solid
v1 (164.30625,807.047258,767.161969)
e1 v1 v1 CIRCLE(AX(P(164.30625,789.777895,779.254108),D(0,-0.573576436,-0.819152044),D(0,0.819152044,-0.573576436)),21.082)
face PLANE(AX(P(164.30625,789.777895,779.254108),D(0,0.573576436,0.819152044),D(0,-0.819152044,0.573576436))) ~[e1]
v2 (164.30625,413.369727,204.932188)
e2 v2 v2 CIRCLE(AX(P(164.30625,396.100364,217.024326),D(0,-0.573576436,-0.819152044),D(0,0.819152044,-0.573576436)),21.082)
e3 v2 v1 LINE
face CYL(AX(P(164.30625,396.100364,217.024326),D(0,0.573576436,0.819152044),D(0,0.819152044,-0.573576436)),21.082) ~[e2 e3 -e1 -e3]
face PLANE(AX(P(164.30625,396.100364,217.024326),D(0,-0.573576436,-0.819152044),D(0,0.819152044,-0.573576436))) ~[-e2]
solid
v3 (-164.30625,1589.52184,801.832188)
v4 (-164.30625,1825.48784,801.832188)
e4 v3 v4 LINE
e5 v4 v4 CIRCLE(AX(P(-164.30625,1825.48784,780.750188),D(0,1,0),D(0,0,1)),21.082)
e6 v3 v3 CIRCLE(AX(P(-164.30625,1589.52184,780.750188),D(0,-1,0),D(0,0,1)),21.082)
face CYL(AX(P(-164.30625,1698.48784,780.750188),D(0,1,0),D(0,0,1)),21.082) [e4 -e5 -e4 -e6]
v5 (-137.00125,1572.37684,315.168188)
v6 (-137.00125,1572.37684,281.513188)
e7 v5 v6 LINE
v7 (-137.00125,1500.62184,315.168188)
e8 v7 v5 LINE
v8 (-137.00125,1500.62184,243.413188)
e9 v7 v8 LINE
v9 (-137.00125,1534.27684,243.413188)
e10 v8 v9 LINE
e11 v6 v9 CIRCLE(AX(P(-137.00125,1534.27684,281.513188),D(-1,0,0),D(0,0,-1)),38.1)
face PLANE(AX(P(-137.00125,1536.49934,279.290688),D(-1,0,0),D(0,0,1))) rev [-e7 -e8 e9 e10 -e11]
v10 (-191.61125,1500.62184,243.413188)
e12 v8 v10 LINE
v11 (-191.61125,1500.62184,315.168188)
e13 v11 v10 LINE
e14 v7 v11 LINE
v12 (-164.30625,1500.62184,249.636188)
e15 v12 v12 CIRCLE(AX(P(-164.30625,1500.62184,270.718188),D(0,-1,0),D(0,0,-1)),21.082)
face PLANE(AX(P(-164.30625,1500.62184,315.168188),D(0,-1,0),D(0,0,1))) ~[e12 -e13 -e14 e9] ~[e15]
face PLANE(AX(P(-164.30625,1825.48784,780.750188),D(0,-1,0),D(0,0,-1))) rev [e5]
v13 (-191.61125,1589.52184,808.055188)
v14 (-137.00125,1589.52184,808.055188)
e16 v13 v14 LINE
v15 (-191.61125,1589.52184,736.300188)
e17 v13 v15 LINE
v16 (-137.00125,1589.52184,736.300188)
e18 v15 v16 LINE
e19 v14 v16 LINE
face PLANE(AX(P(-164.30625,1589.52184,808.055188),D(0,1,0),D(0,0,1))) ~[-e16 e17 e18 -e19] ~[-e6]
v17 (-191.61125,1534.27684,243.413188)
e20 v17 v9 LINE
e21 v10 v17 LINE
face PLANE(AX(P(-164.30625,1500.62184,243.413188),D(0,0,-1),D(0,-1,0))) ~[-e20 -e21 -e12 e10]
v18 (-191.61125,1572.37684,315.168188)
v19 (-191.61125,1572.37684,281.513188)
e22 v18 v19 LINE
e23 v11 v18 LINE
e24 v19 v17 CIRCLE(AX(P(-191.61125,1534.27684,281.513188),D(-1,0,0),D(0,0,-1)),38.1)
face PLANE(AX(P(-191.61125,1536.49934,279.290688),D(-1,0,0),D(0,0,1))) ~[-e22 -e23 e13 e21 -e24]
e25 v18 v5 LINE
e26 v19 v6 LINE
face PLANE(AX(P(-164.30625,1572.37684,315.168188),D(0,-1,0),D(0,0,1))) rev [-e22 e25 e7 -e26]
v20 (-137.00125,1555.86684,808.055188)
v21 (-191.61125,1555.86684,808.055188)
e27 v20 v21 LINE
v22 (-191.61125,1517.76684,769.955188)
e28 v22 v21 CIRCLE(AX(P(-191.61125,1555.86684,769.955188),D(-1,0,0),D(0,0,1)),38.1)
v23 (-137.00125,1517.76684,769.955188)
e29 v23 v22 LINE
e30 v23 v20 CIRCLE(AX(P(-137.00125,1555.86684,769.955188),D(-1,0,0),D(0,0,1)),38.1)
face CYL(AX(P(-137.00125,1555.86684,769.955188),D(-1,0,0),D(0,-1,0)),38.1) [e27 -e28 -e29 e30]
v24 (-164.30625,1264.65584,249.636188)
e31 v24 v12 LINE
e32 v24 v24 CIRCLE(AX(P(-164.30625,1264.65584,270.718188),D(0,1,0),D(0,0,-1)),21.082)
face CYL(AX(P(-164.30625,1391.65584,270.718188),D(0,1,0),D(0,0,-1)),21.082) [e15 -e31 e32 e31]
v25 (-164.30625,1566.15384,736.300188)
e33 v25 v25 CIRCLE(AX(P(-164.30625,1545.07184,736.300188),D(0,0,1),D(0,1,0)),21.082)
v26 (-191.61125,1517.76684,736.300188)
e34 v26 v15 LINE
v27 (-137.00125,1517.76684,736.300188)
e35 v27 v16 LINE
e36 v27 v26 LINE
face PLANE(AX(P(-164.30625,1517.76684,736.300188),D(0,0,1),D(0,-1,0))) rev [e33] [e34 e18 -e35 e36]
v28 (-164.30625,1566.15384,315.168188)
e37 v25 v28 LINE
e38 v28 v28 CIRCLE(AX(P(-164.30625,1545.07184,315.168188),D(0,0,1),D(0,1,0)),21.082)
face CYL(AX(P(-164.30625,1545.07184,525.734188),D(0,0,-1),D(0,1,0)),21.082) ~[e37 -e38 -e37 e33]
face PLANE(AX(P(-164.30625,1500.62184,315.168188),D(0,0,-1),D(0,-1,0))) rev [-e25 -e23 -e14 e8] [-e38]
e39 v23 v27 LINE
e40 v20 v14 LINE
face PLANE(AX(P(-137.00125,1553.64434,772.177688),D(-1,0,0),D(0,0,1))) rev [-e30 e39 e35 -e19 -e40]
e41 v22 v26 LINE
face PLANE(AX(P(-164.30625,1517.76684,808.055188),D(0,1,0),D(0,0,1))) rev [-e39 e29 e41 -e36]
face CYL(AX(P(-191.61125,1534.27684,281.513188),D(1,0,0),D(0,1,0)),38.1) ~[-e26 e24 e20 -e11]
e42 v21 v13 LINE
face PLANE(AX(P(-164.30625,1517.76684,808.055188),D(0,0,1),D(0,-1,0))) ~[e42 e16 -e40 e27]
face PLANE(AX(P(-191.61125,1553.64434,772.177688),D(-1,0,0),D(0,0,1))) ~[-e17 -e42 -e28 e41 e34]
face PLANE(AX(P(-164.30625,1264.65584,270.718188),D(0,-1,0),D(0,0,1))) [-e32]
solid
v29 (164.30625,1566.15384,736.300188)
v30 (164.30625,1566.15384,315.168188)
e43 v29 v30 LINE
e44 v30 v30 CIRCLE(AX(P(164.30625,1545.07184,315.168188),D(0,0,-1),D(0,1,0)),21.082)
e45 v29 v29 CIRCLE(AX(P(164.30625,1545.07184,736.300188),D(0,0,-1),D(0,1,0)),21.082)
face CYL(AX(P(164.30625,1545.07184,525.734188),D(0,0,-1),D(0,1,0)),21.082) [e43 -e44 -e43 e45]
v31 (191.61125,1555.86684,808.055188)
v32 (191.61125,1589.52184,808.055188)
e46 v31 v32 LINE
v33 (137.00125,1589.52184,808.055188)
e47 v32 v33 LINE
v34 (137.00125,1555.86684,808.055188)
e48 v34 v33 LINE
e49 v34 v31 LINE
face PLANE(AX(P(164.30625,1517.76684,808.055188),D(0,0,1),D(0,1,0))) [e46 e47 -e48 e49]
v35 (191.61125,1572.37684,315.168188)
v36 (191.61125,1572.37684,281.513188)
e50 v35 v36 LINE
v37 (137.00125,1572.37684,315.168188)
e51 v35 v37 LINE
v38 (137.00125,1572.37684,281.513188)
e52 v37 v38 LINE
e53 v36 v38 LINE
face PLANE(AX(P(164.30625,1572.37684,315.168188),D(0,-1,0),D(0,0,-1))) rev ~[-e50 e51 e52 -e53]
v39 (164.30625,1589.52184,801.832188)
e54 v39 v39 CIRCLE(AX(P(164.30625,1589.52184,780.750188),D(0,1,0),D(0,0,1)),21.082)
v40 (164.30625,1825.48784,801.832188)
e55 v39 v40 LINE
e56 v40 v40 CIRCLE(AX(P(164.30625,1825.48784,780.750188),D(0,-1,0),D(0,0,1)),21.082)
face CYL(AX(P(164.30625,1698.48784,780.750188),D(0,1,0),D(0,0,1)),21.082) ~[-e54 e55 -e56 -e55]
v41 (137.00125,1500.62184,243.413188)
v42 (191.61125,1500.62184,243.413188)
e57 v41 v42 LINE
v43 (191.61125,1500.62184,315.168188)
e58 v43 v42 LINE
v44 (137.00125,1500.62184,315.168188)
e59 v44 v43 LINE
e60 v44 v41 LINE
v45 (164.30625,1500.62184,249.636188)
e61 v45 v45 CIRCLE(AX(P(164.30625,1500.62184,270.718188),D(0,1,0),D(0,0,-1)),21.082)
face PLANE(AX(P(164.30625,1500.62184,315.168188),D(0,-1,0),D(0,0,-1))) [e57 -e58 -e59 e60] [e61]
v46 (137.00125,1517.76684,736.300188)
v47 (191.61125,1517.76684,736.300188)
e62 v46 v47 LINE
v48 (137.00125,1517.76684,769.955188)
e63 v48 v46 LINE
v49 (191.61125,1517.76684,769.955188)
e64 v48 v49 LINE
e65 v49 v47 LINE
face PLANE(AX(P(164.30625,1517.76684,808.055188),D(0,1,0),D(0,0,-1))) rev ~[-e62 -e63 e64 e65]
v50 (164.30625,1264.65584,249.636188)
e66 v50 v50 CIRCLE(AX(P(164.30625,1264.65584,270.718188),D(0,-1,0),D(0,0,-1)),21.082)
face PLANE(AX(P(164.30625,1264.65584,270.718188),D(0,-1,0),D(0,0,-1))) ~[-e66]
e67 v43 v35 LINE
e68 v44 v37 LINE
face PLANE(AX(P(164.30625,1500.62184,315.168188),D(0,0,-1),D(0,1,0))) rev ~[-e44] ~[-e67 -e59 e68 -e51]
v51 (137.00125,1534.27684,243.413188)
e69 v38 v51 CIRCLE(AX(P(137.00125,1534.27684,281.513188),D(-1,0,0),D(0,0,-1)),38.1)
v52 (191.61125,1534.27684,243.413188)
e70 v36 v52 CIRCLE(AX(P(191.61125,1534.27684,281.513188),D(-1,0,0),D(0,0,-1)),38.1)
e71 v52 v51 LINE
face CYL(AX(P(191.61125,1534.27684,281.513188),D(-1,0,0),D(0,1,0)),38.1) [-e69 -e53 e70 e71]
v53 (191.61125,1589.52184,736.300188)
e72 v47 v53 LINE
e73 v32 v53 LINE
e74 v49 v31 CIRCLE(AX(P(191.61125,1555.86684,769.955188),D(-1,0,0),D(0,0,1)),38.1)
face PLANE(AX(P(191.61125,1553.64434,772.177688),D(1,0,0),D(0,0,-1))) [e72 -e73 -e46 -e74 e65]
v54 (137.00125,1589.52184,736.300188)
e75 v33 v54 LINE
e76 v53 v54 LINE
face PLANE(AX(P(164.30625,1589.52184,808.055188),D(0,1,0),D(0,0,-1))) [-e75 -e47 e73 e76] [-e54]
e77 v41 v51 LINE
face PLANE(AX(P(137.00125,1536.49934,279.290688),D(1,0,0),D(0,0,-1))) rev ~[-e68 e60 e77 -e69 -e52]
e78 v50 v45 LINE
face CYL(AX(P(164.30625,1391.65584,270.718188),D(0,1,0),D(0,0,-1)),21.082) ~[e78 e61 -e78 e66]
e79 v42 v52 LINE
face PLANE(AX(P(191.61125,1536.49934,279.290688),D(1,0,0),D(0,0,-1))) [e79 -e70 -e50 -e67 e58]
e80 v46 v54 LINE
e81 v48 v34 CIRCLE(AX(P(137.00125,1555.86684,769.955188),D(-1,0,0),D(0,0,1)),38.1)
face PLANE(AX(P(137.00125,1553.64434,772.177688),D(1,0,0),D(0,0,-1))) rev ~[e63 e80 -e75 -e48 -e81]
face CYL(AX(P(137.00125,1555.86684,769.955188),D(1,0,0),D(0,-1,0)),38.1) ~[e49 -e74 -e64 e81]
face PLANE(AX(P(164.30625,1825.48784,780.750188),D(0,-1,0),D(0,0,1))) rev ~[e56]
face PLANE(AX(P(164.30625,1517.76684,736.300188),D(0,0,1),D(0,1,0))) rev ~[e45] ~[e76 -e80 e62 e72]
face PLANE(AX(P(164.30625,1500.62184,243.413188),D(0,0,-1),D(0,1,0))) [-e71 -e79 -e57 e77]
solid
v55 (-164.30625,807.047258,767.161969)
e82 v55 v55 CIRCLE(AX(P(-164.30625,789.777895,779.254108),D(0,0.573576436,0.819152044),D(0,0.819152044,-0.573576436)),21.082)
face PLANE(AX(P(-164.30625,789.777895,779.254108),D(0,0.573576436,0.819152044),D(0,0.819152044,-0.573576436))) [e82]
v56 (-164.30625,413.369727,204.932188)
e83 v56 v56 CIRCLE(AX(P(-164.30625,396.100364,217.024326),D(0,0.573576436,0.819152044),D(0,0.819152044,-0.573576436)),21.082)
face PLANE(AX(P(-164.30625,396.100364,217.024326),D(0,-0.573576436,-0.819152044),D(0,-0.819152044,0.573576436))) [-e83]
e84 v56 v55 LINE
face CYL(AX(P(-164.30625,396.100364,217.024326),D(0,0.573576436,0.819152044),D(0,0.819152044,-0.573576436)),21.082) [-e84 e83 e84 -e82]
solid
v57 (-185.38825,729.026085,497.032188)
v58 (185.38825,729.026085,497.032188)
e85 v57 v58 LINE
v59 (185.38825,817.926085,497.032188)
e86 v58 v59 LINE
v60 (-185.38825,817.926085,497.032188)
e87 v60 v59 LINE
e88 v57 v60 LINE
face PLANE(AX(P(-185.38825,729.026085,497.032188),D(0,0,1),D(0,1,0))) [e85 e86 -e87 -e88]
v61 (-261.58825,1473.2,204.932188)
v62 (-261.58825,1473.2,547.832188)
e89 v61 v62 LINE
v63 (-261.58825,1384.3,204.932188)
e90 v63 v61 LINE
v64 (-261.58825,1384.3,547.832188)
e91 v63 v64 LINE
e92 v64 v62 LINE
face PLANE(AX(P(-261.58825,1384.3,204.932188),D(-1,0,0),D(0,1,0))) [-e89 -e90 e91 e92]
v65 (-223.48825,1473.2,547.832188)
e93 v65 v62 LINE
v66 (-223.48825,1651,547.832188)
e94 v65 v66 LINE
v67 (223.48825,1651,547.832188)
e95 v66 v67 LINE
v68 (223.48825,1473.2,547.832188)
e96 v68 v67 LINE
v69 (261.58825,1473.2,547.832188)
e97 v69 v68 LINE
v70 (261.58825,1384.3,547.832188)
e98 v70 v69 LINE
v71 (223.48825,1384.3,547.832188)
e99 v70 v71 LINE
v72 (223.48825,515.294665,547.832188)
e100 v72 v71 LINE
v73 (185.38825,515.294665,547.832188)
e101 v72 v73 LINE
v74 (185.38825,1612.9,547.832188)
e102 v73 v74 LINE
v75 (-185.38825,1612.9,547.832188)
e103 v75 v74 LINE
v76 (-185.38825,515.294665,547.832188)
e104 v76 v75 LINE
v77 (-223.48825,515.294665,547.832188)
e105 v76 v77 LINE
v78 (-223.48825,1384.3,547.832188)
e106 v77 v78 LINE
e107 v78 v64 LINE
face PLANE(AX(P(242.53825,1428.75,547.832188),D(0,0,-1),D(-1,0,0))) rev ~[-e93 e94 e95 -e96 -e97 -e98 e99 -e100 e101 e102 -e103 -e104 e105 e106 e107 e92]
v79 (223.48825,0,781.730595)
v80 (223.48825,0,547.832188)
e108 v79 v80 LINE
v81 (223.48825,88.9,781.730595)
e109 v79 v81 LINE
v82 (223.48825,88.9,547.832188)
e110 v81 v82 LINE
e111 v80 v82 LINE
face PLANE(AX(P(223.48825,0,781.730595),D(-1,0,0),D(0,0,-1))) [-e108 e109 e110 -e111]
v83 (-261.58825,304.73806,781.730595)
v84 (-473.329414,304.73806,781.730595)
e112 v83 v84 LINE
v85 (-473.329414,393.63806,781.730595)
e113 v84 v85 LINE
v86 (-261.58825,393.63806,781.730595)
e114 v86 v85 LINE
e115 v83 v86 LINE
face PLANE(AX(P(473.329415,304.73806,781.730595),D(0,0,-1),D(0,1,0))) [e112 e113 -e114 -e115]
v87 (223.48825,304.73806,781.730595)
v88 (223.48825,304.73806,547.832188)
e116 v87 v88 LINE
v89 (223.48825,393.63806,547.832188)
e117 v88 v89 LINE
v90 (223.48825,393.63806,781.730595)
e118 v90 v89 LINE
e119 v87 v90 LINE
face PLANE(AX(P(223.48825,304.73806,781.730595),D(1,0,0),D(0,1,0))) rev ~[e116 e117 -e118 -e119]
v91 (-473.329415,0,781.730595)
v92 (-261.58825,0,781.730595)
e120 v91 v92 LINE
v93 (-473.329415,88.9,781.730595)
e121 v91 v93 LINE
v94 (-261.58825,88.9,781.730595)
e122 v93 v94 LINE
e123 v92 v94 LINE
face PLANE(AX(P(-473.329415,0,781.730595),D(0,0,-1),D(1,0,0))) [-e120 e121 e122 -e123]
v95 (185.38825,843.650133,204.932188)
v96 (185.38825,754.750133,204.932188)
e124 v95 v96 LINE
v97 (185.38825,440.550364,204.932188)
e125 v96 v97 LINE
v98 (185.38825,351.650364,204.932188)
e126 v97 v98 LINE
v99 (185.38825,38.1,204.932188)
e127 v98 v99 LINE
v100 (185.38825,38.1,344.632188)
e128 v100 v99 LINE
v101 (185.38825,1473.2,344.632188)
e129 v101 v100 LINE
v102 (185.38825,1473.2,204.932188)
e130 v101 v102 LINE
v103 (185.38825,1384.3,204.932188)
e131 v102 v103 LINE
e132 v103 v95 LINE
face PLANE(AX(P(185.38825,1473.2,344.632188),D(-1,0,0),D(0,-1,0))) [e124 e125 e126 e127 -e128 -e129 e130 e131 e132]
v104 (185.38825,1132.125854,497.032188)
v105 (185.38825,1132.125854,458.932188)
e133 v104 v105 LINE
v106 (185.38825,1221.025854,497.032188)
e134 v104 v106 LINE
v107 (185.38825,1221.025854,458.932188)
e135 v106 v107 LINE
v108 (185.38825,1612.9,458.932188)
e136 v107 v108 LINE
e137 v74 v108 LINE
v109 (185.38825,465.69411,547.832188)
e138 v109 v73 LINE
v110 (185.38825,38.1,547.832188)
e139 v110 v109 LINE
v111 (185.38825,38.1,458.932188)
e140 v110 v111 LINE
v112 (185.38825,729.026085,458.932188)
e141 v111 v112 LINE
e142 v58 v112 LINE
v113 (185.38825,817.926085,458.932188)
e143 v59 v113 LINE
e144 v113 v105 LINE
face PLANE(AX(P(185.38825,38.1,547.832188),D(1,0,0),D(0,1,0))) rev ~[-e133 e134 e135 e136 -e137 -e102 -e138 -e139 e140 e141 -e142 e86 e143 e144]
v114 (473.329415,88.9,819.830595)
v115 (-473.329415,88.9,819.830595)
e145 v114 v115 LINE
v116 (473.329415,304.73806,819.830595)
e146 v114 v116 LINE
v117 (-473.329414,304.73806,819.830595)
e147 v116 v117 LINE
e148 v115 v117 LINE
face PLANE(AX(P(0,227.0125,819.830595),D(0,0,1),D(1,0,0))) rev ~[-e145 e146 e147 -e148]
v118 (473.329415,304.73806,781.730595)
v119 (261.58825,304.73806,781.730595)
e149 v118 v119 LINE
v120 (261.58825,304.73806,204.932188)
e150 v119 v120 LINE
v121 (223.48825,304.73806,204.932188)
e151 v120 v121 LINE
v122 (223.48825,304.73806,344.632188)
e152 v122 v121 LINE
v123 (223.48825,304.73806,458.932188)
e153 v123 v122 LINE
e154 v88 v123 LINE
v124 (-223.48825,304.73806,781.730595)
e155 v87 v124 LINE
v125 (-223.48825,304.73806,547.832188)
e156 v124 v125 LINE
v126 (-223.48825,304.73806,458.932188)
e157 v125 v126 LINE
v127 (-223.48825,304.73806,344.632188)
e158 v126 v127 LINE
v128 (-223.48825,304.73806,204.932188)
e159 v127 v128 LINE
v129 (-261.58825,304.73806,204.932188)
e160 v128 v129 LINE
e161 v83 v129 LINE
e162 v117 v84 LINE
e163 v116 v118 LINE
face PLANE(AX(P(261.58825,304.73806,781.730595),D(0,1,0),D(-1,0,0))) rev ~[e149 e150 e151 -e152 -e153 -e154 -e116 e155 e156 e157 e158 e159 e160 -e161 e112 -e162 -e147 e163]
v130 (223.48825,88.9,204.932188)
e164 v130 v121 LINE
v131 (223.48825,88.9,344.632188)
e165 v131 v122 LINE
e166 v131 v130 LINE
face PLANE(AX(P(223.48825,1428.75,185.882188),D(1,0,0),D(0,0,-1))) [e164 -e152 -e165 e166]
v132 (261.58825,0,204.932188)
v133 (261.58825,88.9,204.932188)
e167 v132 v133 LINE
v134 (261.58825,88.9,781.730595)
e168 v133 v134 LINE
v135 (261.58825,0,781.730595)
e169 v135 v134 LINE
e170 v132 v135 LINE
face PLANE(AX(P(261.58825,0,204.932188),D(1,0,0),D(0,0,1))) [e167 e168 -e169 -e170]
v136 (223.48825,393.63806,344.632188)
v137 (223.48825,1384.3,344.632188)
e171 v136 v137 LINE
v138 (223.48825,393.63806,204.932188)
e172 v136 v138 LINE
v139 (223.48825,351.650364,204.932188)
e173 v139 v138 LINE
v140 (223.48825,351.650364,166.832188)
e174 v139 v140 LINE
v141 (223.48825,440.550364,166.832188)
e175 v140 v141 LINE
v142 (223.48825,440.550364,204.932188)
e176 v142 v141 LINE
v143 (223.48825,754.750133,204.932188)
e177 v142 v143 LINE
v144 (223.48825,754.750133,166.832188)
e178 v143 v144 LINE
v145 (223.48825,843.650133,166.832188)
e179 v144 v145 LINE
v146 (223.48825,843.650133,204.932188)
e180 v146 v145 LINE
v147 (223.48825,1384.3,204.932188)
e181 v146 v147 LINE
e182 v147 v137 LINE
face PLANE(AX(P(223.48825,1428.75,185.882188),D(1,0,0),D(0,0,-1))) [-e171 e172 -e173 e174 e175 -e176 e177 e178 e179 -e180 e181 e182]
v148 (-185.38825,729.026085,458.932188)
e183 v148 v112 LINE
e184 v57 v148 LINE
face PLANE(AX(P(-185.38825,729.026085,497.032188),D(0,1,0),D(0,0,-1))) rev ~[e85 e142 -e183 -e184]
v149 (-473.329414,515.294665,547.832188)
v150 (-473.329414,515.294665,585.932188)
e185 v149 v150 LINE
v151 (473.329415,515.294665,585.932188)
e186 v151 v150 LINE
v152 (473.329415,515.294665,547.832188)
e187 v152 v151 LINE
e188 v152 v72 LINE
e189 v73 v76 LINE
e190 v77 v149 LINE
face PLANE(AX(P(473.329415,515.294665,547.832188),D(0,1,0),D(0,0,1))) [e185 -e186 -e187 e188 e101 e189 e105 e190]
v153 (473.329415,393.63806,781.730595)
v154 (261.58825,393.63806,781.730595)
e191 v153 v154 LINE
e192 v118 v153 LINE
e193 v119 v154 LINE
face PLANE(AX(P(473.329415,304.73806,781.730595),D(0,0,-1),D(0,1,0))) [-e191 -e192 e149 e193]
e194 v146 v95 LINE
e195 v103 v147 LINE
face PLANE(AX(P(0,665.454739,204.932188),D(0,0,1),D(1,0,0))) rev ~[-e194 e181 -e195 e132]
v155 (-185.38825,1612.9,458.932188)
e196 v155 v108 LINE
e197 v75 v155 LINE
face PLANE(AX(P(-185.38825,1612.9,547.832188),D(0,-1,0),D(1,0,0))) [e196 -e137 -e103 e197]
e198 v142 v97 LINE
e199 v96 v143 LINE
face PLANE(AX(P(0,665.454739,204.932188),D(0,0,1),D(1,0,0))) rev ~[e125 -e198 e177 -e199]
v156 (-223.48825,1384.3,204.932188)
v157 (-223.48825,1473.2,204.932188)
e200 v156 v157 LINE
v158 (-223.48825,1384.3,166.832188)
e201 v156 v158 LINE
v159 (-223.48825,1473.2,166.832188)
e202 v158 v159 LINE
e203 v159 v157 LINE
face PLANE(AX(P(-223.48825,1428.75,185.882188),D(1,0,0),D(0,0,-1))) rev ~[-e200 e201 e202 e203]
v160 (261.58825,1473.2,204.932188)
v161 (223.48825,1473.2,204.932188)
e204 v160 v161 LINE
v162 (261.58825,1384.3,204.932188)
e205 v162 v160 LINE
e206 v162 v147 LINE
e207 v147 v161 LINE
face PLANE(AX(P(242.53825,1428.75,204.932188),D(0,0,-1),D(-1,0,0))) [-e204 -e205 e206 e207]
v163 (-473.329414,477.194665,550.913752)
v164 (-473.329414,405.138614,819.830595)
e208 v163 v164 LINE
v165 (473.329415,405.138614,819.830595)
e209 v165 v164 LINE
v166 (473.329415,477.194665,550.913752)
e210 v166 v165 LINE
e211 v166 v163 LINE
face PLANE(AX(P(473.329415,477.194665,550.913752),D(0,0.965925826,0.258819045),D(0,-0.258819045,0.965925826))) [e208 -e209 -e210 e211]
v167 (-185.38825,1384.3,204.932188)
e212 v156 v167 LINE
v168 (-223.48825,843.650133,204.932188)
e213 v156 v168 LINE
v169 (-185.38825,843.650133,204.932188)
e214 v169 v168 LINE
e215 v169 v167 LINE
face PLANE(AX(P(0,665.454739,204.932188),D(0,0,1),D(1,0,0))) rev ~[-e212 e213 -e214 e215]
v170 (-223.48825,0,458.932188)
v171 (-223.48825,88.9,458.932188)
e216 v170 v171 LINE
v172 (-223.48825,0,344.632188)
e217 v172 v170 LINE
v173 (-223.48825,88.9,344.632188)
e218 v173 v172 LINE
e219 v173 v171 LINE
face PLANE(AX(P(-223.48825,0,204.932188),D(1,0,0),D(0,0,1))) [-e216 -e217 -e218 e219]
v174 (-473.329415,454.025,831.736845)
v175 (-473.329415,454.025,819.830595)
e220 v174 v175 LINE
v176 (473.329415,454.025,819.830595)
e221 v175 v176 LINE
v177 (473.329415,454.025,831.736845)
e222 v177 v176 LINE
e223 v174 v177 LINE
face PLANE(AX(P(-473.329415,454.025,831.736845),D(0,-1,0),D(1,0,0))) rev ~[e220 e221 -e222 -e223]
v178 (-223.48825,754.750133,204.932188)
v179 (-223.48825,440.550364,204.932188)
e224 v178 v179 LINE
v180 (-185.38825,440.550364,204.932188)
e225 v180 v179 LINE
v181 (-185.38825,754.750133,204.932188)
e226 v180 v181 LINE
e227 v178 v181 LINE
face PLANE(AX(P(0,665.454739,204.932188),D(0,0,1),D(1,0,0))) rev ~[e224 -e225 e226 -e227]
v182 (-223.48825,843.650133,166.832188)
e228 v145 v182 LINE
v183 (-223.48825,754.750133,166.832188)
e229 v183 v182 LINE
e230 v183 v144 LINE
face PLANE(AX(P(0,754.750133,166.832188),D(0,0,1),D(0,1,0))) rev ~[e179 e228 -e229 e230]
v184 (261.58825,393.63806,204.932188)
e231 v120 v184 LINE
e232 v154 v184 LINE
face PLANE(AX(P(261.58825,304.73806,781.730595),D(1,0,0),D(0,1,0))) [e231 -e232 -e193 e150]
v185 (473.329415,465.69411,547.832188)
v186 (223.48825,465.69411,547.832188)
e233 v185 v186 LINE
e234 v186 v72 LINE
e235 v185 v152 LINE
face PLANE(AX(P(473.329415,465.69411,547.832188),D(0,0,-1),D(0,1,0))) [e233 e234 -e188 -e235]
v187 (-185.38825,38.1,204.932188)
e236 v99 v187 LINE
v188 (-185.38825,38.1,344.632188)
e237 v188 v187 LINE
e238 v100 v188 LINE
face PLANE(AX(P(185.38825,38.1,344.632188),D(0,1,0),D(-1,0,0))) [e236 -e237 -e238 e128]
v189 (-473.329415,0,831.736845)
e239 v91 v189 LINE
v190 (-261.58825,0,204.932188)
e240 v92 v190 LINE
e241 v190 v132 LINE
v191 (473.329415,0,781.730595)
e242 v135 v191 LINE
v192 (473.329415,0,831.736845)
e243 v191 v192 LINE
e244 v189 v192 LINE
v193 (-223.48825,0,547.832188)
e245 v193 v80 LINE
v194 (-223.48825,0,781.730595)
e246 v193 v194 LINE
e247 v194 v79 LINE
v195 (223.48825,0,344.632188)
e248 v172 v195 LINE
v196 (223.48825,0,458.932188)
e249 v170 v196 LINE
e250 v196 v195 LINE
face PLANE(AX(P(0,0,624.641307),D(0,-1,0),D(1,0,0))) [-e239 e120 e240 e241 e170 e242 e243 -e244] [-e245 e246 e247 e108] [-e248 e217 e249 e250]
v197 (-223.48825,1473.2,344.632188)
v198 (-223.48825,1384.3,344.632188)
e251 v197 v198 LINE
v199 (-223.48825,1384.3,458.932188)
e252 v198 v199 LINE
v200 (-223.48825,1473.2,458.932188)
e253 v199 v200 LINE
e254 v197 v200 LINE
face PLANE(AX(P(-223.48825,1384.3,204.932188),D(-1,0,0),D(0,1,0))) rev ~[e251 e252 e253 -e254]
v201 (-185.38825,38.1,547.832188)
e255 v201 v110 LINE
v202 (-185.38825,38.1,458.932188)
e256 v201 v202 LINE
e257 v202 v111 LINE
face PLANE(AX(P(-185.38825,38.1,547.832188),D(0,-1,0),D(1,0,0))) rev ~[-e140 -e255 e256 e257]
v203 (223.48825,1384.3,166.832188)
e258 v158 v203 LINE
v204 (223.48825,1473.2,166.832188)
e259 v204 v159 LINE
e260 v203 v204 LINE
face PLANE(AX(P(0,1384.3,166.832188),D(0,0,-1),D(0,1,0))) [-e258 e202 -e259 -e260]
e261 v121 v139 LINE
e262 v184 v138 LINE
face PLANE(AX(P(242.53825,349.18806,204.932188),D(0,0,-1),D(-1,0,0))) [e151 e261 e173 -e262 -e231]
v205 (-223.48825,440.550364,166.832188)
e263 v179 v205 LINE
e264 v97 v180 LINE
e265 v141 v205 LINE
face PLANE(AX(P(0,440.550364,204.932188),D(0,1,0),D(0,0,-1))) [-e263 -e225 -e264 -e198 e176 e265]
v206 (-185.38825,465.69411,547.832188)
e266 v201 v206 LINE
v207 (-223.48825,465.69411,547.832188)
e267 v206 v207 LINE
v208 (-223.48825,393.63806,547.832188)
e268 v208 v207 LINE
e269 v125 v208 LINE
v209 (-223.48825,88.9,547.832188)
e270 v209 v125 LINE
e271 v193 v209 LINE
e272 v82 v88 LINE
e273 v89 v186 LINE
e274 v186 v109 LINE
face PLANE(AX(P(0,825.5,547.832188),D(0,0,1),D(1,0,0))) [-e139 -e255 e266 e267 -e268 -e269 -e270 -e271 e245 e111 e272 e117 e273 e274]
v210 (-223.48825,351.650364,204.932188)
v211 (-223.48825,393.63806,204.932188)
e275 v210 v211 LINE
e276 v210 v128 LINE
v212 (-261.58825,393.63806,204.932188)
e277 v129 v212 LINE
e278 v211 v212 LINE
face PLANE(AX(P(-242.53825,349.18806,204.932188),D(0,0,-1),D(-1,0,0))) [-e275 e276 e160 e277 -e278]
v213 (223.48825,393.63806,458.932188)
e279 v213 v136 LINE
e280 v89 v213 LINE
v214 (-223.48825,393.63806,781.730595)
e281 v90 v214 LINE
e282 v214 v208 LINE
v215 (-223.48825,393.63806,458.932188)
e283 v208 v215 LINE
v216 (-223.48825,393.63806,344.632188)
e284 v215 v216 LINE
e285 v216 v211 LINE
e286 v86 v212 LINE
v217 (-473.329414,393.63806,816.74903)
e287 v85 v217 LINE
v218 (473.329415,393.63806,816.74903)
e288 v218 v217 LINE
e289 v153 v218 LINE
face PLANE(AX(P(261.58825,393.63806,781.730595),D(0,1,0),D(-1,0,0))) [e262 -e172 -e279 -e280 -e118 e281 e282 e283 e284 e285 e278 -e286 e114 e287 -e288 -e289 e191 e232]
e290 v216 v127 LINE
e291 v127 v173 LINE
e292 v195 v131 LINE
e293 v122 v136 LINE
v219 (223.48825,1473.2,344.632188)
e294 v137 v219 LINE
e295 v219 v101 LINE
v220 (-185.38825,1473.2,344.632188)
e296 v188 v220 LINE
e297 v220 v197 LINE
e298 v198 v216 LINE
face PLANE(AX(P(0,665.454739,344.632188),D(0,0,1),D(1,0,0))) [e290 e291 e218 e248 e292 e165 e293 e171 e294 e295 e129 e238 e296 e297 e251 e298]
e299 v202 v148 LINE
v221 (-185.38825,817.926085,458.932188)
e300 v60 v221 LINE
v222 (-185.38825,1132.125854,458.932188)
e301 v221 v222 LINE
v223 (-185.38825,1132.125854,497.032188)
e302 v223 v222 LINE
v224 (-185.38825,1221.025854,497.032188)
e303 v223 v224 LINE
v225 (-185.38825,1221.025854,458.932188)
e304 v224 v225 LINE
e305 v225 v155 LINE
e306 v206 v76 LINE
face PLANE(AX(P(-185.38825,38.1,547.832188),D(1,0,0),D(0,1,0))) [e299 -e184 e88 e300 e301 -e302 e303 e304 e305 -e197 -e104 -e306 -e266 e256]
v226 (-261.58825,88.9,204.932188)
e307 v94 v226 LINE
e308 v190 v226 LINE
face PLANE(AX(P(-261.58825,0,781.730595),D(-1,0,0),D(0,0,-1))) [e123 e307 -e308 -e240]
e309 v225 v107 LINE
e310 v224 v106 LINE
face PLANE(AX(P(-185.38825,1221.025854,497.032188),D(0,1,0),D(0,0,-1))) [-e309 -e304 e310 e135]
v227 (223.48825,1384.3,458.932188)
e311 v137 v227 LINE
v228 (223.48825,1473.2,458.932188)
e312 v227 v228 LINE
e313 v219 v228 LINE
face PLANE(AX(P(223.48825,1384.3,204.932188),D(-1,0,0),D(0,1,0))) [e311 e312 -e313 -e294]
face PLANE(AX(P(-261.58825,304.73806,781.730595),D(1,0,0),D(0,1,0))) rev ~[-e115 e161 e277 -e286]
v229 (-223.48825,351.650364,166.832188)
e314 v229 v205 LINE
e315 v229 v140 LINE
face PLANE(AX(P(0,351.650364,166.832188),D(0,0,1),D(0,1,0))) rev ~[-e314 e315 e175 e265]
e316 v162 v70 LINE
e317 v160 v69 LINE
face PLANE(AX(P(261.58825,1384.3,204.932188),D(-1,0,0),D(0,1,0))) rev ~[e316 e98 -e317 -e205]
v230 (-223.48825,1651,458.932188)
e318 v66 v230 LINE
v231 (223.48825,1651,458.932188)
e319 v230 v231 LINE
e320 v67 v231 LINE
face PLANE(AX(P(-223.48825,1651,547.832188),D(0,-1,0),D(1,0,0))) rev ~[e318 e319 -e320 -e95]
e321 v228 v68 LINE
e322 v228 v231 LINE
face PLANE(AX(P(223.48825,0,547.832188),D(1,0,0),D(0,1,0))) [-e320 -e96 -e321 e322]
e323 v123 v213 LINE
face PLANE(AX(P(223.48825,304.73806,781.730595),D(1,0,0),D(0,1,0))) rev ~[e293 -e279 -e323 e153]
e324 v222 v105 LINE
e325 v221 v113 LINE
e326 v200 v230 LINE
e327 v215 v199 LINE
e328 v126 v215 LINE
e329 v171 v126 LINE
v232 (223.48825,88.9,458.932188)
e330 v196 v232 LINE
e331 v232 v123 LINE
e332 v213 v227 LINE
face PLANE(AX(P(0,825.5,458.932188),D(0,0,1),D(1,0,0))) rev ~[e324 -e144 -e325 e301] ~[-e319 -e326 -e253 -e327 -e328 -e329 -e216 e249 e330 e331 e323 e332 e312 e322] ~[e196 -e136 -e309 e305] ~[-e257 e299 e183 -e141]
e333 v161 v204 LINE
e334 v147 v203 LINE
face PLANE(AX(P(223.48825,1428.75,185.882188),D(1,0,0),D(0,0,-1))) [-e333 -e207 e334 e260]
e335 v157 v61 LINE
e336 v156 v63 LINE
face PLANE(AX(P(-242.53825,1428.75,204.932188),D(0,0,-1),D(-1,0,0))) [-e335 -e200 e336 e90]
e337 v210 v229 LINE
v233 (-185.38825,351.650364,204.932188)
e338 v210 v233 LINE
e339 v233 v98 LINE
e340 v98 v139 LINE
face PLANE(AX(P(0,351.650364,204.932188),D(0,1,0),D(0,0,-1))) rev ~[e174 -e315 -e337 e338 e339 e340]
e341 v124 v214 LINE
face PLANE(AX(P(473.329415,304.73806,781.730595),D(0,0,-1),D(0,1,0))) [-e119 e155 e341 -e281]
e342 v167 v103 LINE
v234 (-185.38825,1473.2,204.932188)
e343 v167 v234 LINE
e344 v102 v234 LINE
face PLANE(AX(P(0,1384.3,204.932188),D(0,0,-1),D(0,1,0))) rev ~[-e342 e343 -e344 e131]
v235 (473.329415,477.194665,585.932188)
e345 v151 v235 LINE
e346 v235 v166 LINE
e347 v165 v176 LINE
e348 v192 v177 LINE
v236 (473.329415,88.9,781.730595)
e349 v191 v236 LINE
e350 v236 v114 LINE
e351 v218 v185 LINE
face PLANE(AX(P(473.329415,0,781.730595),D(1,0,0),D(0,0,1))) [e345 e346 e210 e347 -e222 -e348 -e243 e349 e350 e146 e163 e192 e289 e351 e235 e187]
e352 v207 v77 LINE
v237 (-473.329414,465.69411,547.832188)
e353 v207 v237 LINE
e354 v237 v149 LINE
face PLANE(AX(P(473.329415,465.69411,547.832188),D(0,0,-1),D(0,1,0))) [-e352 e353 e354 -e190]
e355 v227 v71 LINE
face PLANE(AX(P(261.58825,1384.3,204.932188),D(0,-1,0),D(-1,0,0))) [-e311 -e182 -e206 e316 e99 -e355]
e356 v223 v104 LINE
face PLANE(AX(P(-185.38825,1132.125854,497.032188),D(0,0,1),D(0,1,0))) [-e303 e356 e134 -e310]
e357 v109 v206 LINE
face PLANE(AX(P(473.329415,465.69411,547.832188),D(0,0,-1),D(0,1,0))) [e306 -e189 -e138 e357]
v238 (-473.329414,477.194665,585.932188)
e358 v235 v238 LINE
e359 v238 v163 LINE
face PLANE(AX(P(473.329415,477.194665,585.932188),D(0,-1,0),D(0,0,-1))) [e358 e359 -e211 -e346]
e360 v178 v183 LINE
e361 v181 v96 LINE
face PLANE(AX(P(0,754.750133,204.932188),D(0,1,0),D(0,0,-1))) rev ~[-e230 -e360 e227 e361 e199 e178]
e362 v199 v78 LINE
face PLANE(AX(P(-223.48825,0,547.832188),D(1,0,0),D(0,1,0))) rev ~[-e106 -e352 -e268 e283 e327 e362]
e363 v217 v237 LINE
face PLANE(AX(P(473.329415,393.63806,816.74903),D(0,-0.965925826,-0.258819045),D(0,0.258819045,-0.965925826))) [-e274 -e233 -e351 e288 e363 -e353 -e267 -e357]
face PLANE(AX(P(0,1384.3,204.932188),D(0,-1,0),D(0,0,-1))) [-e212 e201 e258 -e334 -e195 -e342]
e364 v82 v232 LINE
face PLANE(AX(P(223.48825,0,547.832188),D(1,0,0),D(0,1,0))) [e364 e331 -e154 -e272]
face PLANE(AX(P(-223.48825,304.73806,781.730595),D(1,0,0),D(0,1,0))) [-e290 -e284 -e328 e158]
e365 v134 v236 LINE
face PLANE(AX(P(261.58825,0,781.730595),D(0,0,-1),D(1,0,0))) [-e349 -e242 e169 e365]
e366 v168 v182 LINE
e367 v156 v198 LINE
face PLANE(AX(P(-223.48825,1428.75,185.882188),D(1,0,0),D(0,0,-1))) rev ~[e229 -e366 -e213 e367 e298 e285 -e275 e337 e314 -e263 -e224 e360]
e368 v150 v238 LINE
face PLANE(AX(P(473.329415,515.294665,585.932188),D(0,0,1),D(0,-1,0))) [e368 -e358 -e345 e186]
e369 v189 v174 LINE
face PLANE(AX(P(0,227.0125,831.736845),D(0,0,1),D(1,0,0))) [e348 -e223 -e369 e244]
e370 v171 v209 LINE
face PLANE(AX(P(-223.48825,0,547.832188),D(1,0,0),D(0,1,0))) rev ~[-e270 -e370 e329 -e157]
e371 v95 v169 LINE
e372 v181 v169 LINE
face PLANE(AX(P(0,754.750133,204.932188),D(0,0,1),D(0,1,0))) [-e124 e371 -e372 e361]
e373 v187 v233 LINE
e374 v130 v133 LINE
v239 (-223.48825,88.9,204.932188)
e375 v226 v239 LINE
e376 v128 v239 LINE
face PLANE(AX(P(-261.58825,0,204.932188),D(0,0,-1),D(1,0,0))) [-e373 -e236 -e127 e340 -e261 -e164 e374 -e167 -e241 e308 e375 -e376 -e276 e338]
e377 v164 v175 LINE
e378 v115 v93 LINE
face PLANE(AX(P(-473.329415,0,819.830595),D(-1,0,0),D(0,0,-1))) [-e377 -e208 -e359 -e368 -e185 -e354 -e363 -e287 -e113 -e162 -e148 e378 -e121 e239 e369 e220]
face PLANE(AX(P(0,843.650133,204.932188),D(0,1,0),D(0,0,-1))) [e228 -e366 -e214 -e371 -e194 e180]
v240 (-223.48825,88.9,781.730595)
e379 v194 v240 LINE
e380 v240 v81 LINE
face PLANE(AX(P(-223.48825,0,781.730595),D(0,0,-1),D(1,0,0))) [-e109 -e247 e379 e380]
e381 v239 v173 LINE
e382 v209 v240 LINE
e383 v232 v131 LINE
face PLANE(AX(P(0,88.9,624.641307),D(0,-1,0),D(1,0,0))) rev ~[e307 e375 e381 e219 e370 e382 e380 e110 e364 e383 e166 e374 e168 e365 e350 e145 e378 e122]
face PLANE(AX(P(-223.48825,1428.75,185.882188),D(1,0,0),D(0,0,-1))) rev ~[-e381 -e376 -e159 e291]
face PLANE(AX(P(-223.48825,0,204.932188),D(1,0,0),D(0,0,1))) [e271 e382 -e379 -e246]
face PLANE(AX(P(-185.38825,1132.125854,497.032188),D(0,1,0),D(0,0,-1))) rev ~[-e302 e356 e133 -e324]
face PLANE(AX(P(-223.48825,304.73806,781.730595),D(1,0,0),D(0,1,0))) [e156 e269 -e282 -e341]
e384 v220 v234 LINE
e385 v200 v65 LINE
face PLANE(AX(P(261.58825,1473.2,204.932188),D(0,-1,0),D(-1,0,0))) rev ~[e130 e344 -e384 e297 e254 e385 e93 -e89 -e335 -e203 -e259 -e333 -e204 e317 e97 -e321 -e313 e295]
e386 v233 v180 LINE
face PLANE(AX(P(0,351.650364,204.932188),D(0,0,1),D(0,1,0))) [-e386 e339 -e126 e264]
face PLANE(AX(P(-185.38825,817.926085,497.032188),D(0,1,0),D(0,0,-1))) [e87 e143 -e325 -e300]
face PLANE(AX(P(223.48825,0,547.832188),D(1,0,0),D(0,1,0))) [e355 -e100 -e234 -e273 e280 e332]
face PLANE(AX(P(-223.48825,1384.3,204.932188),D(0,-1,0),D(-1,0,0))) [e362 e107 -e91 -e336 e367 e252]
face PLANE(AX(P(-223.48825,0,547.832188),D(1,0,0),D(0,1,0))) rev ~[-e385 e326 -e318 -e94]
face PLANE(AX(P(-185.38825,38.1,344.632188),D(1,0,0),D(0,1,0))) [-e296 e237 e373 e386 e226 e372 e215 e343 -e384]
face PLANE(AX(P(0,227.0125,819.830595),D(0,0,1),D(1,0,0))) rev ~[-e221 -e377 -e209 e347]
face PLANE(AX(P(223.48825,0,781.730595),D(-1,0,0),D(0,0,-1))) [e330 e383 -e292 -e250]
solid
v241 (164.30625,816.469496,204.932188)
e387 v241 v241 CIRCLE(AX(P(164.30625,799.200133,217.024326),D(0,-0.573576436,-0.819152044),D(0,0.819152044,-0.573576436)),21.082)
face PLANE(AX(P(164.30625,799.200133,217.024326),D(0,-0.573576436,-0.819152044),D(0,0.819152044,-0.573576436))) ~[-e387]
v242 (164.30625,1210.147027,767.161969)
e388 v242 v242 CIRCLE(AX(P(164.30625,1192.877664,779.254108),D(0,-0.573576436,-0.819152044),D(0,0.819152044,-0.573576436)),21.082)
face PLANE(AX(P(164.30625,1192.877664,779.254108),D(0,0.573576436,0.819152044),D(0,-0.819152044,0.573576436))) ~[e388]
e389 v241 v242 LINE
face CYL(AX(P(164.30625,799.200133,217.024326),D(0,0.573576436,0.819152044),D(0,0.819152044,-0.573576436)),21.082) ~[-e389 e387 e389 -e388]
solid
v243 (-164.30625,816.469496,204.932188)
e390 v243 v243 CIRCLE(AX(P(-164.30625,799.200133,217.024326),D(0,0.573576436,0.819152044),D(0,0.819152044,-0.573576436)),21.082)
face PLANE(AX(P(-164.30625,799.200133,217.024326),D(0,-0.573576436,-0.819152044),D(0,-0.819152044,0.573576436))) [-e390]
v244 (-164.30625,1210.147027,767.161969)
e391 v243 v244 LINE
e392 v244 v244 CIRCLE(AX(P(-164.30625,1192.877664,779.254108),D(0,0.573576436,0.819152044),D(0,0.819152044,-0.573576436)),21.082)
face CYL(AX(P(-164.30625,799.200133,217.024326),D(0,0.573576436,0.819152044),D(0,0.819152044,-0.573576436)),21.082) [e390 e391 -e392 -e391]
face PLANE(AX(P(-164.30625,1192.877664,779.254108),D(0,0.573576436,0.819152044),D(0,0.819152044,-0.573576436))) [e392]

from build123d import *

# Parameters (mm, degrees)
SKETCH1_W            = 946.658829024
SKETCH1_H            = 454.025
BOSS_EXTRUDE3_DEPTH  = 11.90625
SKETCH5_W            = 21.082
SKETCH5_H            = 254
SKETCH6_W            = 457.2
SKETCH6_H            = 21.082
SKETCH7_W            = 21.082
SKETCH7_H            = 254
SKETCH8_W            = 71.755
SKETCH8_H            = 71.755
BOSS_EXTRUDE2_DEPTH  = 27.305
FILLET1_R            = 38.1
SKETCH10_W           = 446.9765
SKETCH10_H           = 1651
SKETCH10_W_2         = 370.7765
SKETCH10_H_2         = 1574.8
BOSS_EXTRUDE4_DEPTH  = 88.9
BOSS_EXTRUDE5_DEPTH  = 139.7
BOSS_EXTRUDE6_DEPTH  = 946.658829
SKETCH13_W           = 38.1
SKETCH13_H           = 88.9
BOSS_EXTRUDE7_DEPTH  = 223.48825
BOSS_EXTRUDE8_DEPTH  = 88.9
SKETCH16_W           = 38.1
SKETCH16_H           = 88.9
BOSS_EXTRUDE9_DEPTH  = 576.798407
SKETCH17_W           = 38.1
SKETCH17_H           = 88.9
BOSS_EXTRUDE10_DEPTH = 342.9
SKETCH19_W           = 38.1
SKETCH19_H           = 88.9
BOSS_EXTRUDE11_DEPTH = 370.7765


with BuildPart() as part:
    # Sketch1 → Boss-Extrude3 (new body)
    with BuildSketch(Plane.XY.offset(831.736844651)):
        with Locations((0, 227.0125)):
            Rectangle(SKETCH1_W, SKETCH1_H)
    extrude(amount=-BOSS_EXTRUDE3_DEPTH)



with BuildPart() as body_2:
    # Sketch3 → Revolve1 (revolve)
    with BuildSketch(Plane(origin=(164.30625, 0, 0), x_dir=(0, 0, -1), z_dir=(1, 0, 0))):
        Polygon((-779.254107605, 789.777894914), (-217.024326356, 396.100363878), (-204.932187925, 413.369727275), (-767.161969174, 807.047258312), align=None)
    revolve(axis=Axis((164.30625, 789.777894914, 779.254107605), (0, -0.573576436, -0.819152044)))


with BuildPart() as body_3:
    # Sketch4 → Revolve2 (revolve)
    with BuildSketch(Plane(origin=(164.30625, 0, 0), x_dir=(0, 0, -1), z_dir=(1, 0, 0))):
        Polygon((-779.254107605, 1192.877664024), (-217.024326356, 799.200132988), (-204.932187925, 816.469496385), (-767.161969174, 1210.147027422), align=None)
    revolve(axis=Axis((164.30625, 1192.877664024, 779.254107605), (0, -0.573576436, -0.819152044)))


with BuildPart() as body_4:
    # Sketch5 → Revolve3 (revolve)
    with BuildSketch(Plane(origin=(164.30625, 0, 0), x_dir=(0, 0, -1), z_dir=(1, 0, 0))):
        with Locations((-791.291187925, 1698.487839746)):
            Rectangle(SKETCH5_W, SKETCH5_H)
    revolve(axis=Axis((164.30625, 1825.487839746, 780.750187925), (0, -1, 0)))



with BuildPart() as body_5:
    # Sketch6 → Revolve4 (revolve)
    with BuildSketch(Plane(origin=(164.30625, 0, 0), x_dir=(0, 0, -1), z_dir=(1, 0, 0))):
        with Locations((-525.734187925, 1555.612839746)):
            Rectangle(SKETCH6_W, SKETCH6_H)
    revolve(axis=Axis((164.30625, 1545.071839746, 754.334187925), (0, 0, -1)))


with BuildPart() as body_6:
    # Sketch7 → Revolve5 (revolve)
    with BuildSketch(Plane(origin=(164.30625, 0, 0), x_dir=(0, 0, -1), z_dir=(1, 0, 0))):
        with Locations((-260.177187925, 1391.655839746)):
            Rectangle(SKETCH7_W, SKETCH7_H)
    revolve(axis=Axis((164.30625, 1518.655839746, 270.718187925), (0, -1, 0)))


with BuildPart() as body_4_1:
    add(body_4.part)

    add(body_5.part)  # Boss-Extrude2 merges body 5

    add(body_6.part)  # Boss-Extrude2 merges body 6
    # Sketch8 → Boss-Extrude2 (add, symmetric)
    with BuildSketch(Plane(origin=(164.30625, 0, 0), x_dir=(0, 0, -1), z_dir=(1, 0, 0))):
        with Locations((-772.177687925, 1553.644339746)):
            Rectangle(SKETCH8_W, SKETCH8_H)
        with Locations((-279.290687925, 1536.499339746)):
            Rectangle(SKETCH8_W, SKETCH8_H)
    extrude(amount=BOSS_EXTRUDE2_DEPTH, both=True)

    # Fillet1
    fillet1_edges = [body_4_1.edges().sort_by_distance(p)[0] for p in [
        (164.30625, 1517.766839746, 808.055187925),
        (164.30625, 1572.376839746, 243.413187925),
    ]]
    fillet(fillet1_edges, radius=FILLET1_R)


with BuildPart() as body_5_2:
    # Sketch10 → Boss-Extrude4 (new body)
    with BuildSketch(Plane.XY.offset(547.832187925)):
        with Locations((0, 825.5)):
            Rectangle(SKETCH10_W, SKETCH10_H)
        with Locations((0, 825.5)):
            Rectangle(SKETCH10_W_2, SKETCH10_H_2, mode=Mode.SUBTRACT)
    extrude(amount=-BOSS_EXTRUDE4_DEPTH)


with BuildPart() as body_6_2:
    # Sketch11 → Boss-Extrude5 (new body)
    with BuildSketch(Plane.XY.offset(344.632187925)):
        Polygon((223.48825, 1473.2), (185.38825, 1473.2), (185.38825, 38.1), (-185.38825, 38.1), (-185.38825, 1473.2), (-223.48825, 1473.2), (-223.48825, 0), (223.48825, 0), align=None)
    extrude(amount=-BOSS_EXTRUDE5_DEPTH)

    # Sketch13 → Boss-Extrude7 (add, symmetric)
    with BuildSketch(Plane(origin=(0, 0, 0), x_dir=(0, 0, -1), z_dir=(1, 0, 0))):
        with Locations((-185.882187925, 396.100363878)):
            Rectangle(SKETCH13_W, SKETCH13_H)
        with Locations((-185.882187925, 799.200132988)):
            Rectangle(SKETCH13_W, SKETCH13_H)
        with Locations((-185.882187925, 1428.75)):
            Rectangle(SKETCH13_W, SKETCH13_H)
    extrude(amount=BOSS_EXTRUDE7_DEPTH, both=True)


with BuildPart() as part_1:
    add(part.part)

    add(body_5_2.part)  # Boss-Extrude6 merges body 5 2
    # Sketch12 → Boss-Extrude6 (add)
    with BuildSketch(Plane(origin=(473.329414512, 0, 0), x_dir=(0, 0, -1), z_dir=(1, 0, 0))):
        Polygon((-781.730594651, 393.638059511), (-816.749030395, 393.638059511), (-819.830594651, 393.638059511), (-819.830594651, 304.738059511), (-781.730594651, 304.738059511), align=None)
        Polygon((-547.832187925, 465.694110282), (-547.832187925, 477.194664652), (-550.913752181, 477.194664652), (-819.830594651, 405.138613881), (-819.830594651, 393.638059511), (-816.749030395, 393.638059511), align=None)
        Polygon((-547.832187925, 477.194664652), (-547.832187925, 515.294664652), (-585.932187925, 515.294664652), (-585.932187925, 477.194664652), (-550.913752181, 477.194664652), align=None)
    extrude(amount=-BOSS_EXTRUDE6_DEPTH)


    add(body_6_2.part)  # Boss-Extrude8 merges body 6 2
    # Sketch14 → Boss-Extrude8 (add)
    with BuildSketch(Plane.XZ):
        Polygon((473.329414512, 819.830594651), (-473.329414512, 819.830594651), (-473.329414512, 781.730594651), (-261.58825, 781.730594651), (-261.58825, 204.932187925), (-223.48825, 204.932187925), (-223.48825, 781.730594651), (223.48825, 781.730594651), (223.48825, 204.932187925), (261.58825, 204.932187925), (261.58825, 781.730594651), (473.329414512, 781.730594651), align=None)
    extrude(amount=-BOSS_EXTRUDE8_DEPTH)

    # Sketch16 → Boss-Extrude9 (add)
    with BuildSketch(Plane(origin=(0, 0, 781.730594651), x_dir=(-1, 0, 0), z_dir=(0, 0, -1))):
        with Locations((-242.53825, 349.188059511)):
            Rectangle(SKETCH16_W, SKETCH16_H)
        with Locations((242.53825, 349.188059511)):
            Rectangle(SKETCH16_W, SKETCH16_H)
    extrude(amount=BOSS_EXTRUDE9_DEPTH)

    # Sketch17 → Boss-Extrude10 (add)
    with BuildSketch(Plane(origin=(0, 0, 204.932187925), x_dir=(-1, 0, 0), z_dir=(0, 0, -1))):
        with Locations((-242.53825, 1428.75)):
            Rectangle(SKETCH17_W, SKETCH17_H)
        with Locations((242.53825, 1428.75)):
            Rectangle(SKETCH17_W, SKETCH17_H)
    extrude(amount=-BOSS_EXTRUDE10_DEPTH)

    # Sketch19 → Boss-Extrude11 (add)
    with BuildSketch(Plane(origin=(-185.38825, 0, 0), x_dir=(0, 0, -1), z_dir=(1, 0, 0))):
        with Locations((-477.982187925, 1176.575854005)):
            Rectangle(SKETCH19_W, SKETCH19_H)
        with Locations((-477.982187925, 773.476084641)):
            Rectangle(SKETCH19_W, SKETCH19_H)
    extrude(amount=BOSS_EXTRUDE11_DEPTH)


with BuildPart() as body_5_3:
    # Mirror1: mirrored copy
    add(body_2.part.mirror(Plane(origin=(0, 0, 0), x_dir=(0, 0, 1), z_dir=(1, 0, 0))))


with BuildPart() as body_6_3:
    # Mirror1 2: mirrored copy
    add(body_3.part.mirror(Plane(origin=(0, 0, 0), x_dir=(0, 0, 1), z_dir=(1, 0, 0))))


with BuildPart() as body_7:
    # Mirror1 3: mirrored copy
    add(body_4_1.part.mirror(Plane(origin=(0, 0, 0), x_dir=(0, 0, 1), z_dir=(1, 0, 0))))


solid = Compound([body_2.part, body_3.part, body_4_1.part, part_1.part, body_5_3.part, body_6_3.part, body_7.part])
